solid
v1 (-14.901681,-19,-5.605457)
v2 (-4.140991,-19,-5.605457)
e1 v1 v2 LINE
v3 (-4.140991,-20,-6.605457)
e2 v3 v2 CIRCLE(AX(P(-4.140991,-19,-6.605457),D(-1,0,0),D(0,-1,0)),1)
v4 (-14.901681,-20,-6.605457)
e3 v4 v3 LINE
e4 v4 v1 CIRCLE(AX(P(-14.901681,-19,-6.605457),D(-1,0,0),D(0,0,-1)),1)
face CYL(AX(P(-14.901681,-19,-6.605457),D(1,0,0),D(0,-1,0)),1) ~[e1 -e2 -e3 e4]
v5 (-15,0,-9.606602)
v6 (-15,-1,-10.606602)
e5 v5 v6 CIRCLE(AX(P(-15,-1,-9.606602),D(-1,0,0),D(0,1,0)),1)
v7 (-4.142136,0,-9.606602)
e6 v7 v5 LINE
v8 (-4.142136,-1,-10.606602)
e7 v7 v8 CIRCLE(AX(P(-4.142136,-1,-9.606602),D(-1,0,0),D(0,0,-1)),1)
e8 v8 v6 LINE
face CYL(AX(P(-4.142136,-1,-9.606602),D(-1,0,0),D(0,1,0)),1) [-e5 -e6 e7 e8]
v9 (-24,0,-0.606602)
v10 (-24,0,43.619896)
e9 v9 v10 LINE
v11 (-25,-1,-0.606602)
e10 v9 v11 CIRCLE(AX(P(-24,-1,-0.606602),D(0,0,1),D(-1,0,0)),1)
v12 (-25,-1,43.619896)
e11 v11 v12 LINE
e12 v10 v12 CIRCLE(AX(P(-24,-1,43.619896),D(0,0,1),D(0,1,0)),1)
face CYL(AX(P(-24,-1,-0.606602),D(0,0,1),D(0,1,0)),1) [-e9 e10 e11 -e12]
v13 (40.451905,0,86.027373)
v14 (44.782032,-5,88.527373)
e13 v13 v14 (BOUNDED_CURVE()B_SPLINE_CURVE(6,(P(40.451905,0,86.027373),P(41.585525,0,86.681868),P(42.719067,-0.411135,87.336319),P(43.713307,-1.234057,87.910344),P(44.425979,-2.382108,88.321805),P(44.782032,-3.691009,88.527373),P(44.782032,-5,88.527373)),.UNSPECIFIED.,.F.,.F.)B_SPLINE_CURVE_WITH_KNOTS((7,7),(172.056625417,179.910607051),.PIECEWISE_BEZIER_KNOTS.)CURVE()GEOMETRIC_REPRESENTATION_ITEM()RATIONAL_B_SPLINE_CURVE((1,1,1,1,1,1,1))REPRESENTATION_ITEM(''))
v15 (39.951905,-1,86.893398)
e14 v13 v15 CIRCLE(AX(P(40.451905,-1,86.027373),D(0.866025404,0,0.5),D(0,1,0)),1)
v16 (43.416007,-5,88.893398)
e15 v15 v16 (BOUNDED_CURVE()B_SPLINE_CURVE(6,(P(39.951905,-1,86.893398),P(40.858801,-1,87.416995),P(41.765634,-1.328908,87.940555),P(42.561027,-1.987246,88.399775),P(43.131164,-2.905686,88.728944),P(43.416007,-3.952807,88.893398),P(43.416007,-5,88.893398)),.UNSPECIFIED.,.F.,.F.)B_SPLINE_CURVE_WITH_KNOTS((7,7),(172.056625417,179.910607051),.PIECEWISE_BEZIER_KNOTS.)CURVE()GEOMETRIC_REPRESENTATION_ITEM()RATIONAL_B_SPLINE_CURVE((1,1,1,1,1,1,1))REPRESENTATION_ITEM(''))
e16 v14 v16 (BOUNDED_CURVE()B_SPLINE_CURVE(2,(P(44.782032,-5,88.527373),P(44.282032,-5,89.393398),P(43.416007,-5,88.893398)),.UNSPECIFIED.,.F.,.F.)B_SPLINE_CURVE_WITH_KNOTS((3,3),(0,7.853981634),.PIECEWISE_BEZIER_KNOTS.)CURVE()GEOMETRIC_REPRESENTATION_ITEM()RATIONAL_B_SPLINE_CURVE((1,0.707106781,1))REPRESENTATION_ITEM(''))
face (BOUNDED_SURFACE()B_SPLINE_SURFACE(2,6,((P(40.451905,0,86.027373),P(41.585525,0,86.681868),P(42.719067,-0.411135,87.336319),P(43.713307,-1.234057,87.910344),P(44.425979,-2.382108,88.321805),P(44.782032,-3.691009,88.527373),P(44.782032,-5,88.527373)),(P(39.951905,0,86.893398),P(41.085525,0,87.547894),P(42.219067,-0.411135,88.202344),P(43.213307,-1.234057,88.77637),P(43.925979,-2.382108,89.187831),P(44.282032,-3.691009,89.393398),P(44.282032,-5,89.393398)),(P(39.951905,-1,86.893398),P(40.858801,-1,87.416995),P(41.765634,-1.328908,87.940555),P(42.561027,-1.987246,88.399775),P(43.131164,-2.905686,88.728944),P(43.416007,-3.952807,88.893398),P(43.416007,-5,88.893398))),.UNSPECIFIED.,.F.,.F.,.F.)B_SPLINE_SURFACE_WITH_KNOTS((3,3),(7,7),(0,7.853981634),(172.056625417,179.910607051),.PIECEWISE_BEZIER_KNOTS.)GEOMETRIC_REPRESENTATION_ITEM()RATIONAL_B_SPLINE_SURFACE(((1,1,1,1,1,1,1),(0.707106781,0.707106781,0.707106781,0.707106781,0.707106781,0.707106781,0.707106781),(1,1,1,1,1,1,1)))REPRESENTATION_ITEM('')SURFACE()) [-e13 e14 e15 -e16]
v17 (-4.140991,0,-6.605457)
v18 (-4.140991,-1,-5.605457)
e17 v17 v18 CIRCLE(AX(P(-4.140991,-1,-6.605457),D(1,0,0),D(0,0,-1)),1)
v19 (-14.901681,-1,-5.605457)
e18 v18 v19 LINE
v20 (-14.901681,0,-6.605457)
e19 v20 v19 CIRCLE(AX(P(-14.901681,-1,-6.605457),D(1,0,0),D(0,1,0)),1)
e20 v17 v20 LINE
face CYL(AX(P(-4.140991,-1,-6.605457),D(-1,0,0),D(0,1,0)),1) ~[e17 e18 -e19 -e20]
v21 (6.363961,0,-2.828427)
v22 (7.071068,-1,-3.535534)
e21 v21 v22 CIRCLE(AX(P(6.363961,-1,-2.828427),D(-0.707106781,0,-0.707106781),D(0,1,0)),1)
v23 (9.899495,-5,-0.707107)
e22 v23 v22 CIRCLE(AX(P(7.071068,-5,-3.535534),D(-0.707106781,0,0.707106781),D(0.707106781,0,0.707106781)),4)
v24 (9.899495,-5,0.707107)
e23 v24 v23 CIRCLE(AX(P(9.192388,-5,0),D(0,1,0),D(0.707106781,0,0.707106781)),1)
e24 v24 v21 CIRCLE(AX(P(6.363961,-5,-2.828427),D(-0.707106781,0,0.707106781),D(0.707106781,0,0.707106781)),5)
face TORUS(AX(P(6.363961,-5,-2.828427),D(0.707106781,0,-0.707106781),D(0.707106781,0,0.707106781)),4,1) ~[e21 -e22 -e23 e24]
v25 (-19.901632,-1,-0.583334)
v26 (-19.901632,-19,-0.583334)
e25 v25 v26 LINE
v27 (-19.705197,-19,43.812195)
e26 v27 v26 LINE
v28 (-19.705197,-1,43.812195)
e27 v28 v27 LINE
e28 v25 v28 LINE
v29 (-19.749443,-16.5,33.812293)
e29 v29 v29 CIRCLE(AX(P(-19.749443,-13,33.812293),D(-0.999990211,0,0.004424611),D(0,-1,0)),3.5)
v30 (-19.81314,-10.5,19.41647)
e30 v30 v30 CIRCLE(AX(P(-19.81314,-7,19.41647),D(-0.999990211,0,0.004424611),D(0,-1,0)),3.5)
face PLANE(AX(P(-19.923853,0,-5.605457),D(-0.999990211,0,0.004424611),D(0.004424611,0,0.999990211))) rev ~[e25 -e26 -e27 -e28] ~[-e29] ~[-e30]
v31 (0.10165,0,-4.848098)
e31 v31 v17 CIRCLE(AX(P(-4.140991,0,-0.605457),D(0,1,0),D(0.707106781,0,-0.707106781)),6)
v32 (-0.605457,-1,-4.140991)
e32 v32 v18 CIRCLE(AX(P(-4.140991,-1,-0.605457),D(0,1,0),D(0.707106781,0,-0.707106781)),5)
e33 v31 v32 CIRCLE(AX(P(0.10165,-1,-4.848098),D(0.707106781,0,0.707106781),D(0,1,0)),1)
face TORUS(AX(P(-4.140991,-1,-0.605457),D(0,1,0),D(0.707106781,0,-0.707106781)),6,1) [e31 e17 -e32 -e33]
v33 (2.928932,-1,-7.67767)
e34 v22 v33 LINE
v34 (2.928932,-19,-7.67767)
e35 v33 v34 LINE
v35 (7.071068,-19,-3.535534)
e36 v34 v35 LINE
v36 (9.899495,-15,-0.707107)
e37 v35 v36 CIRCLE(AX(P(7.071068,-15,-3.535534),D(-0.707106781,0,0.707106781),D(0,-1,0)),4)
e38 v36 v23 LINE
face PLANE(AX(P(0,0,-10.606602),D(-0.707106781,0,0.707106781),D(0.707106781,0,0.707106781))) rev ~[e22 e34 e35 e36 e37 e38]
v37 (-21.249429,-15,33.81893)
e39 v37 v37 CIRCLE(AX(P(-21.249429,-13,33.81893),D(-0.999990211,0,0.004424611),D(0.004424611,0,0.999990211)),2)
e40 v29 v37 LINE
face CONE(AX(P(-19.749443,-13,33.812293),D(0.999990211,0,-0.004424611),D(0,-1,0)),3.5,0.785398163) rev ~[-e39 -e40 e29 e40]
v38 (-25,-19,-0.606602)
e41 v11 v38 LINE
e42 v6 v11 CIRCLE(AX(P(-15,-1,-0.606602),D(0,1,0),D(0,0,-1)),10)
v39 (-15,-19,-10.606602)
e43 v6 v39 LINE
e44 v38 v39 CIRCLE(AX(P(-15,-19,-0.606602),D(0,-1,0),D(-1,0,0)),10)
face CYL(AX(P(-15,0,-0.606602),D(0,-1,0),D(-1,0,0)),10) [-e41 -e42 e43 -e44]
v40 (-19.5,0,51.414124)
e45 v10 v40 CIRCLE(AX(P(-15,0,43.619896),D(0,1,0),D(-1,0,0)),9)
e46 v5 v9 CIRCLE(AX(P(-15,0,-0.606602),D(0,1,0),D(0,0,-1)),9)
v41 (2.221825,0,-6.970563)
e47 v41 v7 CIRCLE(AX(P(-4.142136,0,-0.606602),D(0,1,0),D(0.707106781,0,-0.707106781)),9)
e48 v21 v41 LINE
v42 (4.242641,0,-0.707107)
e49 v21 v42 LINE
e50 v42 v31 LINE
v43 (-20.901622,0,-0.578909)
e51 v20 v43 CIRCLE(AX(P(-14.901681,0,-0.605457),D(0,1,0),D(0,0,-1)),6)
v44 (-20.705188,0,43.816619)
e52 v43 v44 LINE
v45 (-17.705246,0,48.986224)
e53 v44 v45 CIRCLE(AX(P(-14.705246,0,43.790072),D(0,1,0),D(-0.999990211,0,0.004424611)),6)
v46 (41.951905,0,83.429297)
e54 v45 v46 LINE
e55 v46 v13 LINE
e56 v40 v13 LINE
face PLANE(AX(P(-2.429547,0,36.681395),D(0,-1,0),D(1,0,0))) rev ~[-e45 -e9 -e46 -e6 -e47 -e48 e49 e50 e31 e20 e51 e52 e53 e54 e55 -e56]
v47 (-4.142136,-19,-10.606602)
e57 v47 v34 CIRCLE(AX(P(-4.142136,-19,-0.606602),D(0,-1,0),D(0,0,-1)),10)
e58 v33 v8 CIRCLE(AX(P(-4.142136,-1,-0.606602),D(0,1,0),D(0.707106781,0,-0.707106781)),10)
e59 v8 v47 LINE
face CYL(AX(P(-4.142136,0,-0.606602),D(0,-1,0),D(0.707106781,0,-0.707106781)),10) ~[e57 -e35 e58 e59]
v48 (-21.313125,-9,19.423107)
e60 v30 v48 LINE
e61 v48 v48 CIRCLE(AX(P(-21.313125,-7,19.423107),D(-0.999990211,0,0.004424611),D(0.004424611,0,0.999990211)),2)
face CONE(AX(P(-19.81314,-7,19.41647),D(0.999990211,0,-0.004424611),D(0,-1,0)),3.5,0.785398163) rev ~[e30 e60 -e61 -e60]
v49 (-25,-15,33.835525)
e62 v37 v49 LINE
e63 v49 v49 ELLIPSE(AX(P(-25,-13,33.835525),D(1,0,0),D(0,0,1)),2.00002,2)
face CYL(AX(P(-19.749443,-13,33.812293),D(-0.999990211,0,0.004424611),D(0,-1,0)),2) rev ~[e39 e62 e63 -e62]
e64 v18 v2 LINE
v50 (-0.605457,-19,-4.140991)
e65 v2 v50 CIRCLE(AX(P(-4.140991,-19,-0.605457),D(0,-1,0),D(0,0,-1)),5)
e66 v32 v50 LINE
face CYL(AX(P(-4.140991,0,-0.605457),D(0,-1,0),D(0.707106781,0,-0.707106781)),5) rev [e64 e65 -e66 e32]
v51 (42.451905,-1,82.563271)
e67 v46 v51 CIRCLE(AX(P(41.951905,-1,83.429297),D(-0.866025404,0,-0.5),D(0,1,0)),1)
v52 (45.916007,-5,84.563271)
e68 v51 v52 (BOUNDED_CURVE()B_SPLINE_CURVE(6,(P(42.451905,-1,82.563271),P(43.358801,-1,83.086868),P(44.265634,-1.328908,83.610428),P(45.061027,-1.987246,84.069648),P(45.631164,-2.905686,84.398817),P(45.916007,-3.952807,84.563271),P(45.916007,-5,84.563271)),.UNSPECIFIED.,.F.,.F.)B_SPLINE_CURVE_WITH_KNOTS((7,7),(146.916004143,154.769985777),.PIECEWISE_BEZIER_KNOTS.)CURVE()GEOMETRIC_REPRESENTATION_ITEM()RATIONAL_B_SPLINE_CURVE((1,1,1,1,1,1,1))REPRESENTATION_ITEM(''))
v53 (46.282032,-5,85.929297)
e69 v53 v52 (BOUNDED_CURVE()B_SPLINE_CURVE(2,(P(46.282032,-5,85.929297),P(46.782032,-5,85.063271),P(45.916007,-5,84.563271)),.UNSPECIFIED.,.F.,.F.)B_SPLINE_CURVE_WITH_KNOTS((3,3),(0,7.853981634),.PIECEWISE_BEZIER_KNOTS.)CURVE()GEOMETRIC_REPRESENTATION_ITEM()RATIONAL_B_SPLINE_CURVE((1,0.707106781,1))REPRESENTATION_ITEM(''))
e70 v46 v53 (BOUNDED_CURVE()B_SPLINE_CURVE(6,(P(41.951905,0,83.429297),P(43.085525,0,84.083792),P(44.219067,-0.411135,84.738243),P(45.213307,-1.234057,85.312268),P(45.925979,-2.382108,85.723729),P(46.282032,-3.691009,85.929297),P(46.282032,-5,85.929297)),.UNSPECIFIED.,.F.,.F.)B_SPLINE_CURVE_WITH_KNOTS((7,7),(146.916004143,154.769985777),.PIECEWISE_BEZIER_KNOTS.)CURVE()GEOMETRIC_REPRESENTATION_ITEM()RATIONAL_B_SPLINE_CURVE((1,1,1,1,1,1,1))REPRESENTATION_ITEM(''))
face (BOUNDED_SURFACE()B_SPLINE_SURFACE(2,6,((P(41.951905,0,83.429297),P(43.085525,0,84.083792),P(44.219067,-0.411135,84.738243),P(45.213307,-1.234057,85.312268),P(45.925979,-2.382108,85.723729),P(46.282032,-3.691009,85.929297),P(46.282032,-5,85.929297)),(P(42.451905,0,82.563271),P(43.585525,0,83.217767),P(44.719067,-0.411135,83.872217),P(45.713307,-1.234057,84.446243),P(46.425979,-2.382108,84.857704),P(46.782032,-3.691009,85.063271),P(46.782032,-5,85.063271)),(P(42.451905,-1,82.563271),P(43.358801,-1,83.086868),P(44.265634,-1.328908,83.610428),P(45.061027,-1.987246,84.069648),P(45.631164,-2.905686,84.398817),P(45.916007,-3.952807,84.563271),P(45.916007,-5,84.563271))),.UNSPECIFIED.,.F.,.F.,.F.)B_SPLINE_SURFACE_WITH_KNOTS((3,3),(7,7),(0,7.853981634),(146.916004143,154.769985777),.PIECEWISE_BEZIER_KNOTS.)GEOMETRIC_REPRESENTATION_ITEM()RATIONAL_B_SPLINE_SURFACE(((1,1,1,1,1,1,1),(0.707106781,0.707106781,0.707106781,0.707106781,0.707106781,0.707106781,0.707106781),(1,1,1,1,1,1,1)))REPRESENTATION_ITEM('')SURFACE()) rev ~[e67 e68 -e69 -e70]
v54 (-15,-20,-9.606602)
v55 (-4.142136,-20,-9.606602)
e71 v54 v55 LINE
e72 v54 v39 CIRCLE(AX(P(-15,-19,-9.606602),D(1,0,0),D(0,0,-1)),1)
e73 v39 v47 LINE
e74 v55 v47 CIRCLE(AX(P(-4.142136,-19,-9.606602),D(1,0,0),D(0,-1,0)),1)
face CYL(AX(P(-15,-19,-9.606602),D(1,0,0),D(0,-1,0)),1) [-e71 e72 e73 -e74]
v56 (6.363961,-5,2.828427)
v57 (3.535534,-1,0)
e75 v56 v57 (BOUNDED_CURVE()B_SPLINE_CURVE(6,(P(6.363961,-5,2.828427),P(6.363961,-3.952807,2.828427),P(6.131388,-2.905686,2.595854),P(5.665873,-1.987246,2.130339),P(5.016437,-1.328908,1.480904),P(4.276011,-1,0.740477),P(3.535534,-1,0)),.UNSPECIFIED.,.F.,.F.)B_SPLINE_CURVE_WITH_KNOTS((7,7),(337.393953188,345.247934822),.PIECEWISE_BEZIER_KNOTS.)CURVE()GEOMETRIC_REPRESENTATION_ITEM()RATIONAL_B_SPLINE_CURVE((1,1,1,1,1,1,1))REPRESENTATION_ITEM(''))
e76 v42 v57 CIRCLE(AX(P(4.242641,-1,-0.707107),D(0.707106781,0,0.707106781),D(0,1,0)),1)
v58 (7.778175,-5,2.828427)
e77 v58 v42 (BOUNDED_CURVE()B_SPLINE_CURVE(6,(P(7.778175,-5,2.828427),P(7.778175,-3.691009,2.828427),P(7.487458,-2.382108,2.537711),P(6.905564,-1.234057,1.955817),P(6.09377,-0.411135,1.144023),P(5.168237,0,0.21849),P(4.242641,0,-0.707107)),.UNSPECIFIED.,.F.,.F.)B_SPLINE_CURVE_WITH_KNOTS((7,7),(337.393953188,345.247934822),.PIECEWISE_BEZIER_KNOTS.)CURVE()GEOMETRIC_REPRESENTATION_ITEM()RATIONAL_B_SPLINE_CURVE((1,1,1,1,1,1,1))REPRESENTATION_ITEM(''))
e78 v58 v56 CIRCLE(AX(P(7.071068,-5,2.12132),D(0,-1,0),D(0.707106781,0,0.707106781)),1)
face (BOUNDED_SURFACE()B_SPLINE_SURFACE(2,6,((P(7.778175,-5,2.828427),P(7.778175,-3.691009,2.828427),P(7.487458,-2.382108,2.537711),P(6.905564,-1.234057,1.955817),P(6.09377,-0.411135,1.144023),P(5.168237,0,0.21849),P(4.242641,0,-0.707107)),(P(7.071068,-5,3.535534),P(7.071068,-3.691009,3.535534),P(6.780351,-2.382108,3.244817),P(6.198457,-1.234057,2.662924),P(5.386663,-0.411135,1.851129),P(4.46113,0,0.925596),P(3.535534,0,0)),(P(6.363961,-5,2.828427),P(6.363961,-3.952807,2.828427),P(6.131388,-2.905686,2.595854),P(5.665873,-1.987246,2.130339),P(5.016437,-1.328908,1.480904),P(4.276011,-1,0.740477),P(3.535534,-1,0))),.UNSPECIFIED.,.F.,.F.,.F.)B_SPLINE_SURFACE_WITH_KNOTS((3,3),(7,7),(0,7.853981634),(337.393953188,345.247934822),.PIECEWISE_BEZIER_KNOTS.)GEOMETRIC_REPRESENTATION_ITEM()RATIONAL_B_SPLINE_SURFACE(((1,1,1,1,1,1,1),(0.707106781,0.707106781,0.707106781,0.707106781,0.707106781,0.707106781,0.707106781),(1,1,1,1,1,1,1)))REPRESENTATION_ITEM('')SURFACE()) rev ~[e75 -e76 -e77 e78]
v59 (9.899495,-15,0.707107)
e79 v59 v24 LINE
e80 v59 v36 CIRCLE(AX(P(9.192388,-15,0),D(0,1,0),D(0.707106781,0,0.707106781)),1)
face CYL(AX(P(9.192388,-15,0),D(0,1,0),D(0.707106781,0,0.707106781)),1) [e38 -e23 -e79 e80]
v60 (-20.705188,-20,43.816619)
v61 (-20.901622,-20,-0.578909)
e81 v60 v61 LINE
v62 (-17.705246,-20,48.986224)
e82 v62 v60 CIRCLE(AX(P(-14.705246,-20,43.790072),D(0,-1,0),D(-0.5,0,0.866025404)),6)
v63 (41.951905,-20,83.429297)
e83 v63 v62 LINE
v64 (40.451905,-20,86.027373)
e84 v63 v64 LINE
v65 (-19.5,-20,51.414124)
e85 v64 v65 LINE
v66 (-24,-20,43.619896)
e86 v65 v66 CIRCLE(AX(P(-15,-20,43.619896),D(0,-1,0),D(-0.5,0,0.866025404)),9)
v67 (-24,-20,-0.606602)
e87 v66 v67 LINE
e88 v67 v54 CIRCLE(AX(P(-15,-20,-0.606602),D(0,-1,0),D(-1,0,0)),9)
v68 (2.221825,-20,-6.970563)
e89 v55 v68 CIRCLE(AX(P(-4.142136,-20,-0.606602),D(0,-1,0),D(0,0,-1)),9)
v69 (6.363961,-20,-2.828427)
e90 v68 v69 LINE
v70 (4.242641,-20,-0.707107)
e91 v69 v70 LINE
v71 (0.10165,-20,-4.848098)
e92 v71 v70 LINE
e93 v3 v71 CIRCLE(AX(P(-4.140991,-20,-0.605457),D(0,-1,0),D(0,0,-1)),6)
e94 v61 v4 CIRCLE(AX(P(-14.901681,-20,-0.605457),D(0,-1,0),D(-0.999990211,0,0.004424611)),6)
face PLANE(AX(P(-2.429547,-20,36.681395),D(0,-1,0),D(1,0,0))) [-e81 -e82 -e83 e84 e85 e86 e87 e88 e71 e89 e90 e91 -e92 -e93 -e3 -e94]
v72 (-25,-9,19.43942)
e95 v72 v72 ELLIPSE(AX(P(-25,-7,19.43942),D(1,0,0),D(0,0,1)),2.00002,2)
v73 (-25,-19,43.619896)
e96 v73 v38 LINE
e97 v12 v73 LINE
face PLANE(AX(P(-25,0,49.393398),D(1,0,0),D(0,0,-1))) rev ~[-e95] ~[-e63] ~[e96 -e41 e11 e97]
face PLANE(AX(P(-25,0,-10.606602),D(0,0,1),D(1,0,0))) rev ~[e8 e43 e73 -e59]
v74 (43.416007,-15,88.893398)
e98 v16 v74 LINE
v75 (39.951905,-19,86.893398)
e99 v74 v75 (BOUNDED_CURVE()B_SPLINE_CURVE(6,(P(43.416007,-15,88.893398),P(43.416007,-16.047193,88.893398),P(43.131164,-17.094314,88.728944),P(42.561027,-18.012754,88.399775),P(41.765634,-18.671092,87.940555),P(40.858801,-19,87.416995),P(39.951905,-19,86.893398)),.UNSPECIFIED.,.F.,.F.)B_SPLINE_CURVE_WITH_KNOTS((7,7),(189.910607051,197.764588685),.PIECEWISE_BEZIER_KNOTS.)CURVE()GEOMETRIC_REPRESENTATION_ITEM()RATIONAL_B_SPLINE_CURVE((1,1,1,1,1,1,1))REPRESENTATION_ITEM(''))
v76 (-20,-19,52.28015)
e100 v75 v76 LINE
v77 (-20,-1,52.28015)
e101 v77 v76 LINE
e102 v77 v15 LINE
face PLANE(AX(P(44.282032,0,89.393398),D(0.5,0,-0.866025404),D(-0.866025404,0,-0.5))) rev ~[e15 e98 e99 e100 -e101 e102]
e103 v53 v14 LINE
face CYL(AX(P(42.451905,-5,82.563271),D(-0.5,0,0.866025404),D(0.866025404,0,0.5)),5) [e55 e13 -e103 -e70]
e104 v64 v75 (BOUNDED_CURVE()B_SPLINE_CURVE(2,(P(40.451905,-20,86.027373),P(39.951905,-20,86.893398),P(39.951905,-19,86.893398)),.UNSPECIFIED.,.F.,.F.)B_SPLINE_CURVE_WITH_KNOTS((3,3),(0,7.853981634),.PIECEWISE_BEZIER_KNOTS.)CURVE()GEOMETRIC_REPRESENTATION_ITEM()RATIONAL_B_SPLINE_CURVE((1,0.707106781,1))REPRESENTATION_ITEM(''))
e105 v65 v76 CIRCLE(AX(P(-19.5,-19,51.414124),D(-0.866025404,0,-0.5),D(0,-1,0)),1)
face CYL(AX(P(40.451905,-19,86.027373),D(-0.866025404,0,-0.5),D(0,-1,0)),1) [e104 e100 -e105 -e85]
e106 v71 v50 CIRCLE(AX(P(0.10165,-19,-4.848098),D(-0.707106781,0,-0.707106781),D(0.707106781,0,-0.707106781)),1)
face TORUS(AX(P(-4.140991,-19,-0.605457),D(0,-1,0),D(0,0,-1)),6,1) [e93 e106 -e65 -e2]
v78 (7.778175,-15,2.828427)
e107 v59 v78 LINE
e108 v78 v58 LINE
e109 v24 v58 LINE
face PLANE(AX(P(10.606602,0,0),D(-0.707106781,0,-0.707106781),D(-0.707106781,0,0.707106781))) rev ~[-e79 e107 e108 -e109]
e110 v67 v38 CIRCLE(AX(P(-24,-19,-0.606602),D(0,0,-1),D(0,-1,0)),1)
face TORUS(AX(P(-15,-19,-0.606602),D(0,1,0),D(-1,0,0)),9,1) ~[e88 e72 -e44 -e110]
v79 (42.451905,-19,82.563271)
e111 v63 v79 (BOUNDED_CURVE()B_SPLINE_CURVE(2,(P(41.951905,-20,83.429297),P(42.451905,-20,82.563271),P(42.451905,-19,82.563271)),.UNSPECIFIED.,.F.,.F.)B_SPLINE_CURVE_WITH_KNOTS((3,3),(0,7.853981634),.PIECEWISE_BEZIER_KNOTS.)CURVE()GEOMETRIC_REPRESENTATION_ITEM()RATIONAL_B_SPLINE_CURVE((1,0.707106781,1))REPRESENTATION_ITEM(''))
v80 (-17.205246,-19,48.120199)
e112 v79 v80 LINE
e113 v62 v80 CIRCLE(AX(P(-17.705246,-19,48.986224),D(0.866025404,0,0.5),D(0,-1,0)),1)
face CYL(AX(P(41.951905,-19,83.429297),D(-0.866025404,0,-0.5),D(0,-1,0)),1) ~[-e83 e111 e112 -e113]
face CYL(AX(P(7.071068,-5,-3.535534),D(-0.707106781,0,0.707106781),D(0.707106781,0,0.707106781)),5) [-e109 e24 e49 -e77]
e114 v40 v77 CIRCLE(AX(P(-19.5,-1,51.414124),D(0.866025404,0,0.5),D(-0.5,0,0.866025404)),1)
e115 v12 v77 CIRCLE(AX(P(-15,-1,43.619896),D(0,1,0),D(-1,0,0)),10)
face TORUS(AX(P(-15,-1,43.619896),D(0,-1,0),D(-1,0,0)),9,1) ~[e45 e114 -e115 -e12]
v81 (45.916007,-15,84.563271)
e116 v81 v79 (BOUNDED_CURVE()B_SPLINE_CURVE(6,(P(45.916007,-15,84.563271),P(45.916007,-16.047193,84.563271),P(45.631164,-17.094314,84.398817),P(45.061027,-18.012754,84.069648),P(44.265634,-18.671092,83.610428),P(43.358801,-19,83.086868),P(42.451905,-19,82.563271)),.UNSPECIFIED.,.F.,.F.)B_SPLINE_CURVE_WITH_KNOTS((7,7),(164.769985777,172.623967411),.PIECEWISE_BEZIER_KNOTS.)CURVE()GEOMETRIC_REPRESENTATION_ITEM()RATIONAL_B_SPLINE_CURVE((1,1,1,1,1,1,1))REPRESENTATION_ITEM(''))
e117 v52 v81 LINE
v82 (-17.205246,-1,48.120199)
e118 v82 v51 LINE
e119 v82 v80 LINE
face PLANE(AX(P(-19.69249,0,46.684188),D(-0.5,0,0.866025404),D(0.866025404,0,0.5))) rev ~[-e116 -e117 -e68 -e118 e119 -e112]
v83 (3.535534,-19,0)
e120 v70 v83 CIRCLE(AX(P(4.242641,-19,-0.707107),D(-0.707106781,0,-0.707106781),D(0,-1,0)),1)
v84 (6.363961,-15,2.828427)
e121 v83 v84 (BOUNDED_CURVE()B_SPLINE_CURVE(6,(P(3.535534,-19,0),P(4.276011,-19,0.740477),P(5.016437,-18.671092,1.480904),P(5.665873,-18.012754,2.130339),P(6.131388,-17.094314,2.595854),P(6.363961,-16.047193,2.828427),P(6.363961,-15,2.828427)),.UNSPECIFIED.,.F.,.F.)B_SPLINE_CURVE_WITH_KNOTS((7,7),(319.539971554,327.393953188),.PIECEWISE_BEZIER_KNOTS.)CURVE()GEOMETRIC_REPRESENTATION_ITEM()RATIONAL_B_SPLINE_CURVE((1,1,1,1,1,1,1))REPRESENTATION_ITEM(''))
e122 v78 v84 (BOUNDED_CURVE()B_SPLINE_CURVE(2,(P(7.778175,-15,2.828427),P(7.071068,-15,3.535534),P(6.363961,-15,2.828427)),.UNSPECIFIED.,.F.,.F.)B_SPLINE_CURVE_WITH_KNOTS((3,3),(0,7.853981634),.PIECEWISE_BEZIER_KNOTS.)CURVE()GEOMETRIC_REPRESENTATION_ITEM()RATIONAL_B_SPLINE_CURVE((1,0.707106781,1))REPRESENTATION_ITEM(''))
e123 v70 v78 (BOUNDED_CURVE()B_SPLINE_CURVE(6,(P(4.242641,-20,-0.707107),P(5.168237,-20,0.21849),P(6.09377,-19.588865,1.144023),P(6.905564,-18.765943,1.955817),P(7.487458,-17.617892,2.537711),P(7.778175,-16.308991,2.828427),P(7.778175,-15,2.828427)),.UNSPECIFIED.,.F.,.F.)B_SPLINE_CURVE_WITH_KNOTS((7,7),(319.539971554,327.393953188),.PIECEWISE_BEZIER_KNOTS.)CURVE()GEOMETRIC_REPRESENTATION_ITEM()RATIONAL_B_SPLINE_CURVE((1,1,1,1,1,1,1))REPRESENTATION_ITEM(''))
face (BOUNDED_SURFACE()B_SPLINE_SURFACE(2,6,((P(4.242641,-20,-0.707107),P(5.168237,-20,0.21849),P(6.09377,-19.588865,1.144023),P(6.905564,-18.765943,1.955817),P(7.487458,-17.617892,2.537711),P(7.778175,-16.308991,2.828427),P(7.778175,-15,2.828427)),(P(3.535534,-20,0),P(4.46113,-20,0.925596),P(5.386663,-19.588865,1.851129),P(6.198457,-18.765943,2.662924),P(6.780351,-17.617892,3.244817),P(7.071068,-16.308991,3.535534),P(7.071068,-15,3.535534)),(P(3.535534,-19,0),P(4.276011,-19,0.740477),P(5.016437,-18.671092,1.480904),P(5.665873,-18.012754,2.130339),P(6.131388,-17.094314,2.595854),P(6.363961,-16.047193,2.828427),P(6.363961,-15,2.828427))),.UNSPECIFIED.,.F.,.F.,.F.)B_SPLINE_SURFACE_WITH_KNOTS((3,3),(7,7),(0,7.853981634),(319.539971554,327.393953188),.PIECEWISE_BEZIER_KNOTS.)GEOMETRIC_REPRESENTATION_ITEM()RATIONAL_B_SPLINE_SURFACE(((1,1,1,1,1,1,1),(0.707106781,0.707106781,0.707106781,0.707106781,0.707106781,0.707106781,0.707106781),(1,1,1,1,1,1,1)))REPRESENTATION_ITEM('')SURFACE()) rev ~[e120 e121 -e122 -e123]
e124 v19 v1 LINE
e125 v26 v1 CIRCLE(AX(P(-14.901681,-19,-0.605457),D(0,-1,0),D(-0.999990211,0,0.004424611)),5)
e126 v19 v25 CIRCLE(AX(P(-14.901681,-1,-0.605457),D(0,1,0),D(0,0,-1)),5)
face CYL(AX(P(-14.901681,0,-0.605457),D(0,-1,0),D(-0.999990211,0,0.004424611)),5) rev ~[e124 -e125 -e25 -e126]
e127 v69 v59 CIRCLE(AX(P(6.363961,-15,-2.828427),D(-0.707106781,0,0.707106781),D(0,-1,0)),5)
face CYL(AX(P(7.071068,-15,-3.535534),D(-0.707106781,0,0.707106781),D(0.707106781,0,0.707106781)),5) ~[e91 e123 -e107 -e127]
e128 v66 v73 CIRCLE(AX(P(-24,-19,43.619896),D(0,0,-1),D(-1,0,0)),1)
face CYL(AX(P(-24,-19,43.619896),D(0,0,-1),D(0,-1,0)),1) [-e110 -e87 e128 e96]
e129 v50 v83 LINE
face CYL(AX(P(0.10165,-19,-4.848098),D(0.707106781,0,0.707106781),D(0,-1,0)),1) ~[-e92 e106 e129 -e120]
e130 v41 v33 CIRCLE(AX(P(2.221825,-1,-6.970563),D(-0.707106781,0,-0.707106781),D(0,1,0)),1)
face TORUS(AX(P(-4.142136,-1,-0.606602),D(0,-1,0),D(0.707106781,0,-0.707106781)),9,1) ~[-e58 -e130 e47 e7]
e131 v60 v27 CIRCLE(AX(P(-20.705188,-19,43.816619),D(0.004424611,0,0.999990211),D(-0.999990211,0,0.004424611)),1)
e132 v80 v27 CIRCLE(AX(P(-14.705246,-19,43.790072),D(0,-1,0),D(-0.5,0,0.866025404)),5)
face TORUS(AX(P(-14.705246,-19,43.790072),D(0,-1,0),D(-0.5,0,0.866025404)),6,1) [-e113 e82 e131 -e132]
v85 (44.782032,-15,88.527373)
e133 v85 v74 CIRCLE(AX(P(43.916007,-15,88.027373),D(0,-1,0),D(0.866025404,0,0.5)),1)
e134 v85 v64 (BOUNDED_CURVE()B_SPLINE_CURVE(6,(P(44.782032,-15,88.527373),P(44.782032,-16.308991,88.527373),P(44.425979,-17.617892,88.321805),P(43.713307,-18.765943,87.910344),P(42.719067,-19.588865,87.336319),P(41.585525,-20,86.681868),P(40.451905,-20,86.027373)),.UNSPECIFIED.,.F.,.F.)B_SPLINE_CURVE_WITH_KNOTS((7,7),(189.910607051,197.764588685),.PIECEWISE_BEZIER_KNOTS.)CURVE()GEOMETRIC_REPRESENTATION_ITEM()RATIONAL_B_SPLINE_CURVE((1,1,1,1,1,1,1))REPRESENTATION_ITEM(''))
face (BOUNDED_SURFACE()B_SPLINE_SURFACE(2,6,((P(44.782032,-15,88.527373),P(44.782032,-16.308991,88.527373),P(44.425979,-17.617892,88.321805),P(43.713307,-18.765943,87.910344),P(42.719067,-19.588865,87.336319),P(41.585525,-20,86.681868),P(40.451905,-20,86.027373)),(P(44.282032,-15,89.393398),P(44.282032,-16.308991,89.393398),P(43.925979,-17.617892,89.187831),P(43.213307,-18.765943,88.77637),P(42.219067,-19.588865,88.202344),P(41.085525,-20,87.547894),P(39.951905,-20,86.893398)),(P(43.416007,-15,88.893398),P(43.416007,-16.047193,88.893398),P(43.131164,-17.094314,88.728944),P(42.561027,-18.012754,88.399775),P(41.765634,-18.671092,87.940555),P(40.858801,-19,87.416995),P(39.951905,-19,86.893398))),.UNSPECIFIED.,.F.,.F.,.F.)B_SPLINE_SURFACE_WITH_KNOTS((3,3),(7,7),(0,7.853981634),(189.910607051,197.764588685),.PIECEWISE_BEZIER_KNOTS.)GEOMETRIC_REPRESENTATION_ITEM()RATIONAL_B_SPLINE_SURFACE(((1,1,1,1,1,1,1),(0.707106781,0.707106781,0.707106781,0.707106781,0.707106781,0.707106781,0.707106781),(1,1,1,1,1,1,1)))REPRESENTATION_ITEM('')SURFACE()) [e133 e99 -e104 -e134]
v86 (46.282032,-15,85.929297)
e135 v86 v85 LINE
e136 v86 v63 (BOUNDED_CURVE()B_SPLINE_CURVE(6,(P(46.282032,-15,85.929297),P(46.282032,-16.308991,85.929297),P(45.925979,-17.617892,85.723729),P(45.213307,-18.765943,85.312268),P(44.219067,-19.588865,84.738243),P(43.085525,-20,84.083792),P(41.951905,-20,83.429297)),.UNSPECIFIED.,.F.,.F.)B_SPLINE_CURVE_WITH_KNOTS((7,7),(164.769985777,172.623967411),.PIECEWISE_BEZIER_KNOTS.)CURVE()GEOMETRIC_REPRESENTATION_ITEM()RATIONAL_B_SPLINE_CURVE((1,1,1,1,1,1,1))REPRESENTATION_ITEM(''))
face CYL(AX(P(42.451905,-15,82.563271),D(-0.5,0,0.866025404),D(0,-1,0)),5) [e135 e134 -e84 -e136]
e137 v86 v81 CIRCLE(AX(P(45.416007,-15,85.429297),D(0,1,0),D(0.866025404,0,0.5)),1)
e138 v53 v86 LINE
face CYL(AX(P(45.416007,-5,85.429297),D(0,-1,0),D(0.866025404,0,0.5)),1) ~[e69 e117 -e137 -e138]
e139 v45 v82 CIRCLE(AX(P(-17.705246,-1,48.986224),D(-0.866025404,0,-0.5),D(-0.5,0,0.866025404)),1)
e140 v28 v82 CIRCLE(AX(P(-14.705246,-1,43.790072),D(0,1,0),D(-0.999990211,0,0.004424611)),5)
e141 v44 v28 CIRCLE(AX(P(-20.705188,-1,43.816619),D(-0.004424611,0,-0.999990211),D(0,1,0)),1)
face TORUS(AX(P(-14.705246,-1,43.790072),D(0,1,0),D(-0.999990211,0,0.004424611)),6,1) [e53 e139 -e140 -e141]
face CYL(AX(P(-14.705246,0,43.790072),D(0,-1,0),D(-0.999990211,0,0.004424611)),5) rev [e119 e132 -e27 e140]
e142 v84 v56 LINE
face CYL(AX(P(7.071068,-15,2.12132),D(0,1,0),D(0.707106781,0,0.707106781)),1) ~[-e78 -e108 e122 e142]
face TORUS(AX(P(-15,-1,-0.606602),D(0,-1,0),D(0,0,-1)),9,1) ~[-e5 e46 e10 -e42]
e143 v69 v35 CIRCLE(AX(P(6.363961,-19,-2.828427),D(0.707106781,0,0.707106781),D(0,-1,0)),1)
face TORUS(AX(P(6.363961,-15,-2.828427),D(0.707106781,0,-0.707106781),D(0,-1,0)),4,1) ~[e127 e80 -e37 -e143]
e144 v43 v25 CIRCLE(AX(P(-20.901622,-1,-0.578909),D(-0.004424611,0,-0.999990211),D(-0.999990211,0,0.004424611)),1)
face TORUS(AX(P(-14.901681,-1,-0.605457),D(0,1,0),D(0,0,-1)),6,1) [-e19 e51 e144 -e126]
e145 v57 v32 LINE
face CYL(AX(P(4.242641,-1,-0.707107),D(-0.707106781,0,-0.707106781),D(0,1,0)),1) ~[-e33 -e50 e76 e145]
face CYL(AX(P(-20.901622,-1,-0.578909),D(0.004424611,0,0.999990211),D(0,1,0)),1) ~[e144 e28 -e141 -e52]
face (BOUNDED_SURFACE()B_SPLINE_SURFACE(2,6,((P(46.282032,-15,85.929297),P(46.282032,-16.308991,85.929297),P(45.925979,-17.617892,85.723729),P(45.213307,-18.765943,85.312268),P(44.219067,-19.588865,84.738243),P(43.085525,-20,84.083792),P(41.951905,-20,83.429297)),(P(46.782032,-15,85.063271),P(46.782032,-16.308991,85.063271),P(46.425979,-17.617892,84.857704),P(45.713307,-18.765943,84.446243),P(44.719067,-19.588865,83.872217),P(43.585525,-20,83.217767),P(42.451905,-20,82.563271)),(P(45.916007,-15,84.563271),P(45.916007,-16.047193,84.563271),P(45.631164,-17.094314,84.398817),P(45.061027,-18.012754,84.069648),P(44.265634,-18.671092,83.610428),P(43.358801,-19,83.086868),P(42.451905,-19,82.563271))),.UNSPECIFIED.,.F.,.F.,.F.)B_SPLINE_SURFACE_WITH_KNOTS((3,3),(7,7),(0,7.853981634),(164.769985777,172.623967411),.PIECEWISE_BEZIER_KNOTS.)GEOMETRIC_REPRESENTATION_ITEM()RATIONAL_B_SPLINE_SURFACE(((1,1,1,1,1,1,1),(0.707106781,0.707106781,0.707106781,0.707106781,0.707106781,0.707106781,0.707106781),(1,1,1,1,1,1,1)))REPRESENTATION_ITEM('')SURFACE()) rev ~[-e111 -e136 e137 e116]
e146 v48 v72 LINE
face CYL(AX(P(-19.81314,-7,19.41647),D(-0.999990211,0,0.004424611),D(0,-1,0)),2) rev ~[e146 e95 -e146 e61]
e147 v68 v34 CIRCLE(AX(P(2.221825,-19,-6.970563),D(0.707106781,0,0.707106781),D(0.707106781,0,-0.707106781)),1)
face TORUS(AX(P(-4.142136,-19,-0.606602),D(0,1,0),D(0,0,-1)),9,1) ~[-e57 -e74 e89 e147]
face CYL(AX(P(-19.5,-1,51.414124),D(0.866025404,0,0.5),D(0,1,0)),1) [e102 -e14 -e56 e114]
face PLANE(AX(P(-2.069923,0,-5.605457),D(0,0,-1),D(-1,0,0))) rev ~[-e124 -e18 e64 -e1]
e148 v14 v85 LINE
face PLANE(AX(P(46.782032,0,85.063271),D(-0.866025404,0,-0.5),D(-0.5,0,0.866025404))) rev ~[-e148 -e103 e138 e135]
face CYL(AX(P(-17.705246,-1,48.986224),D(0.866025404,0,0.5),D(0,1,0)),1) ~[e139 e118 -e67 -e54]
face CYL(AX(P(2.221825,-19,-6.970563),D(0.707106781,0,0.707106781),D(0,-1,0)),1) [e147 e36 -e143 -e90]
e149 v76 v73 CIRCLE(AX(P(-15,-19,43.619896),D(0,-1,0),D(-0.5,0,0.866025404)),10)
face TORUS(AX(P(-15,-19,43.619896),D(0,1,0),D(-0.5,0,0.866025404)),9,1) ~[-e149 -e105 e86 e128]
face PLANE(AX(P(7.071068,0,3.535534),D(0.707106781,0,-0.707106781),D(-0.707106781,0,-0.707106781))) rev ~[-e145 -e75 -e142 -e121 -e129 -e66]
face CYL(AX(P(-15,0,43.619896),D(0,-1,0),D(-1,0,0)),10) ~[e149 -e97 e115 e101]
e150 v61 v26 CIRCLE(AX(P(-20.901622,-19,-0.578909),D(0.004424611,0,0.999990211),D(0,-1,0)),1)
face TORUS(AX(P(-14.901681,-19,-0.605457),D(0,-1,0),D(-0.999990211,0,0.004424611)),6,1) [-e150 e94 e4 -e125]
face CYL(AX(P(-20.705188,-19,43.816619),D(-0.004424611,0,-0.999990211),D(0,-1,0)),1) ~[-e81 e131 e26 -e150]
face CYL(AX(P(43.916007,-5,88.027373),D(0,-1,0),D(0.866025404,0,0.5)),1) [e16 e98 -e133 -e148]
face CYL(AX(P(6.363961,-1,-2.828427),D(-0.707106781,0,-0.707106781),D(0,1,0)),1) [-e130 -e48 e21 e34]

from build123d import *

# Parameters (mm, degrees)
F1_DEPTH        = 20
F2_R            = 10
F3_R            = 10
F4_R            = 5
F5_R            = 5
F6_R            = 10
F7_R            = 5
F8_R            = 5
F9_R            = 5
F10_R           = 5
F11_R           = 5
F12_R           = 1
F14_D           = 4
F14_CSINK_D     = 7
F14_CSINK_ANGLE = 90


with BuildPart() as f1:
    # F0 (on Front) → F1 (new body)
    with BuildSketch(Plane.XZ):
        Polygon((0, -10.6066017178), (10.6066017178, 0), (7.0710678119, 3.5355339059), (-2.069922974, -5.6054568799), (-19.9238533878, -5.6054568799), (-19.6924897674, 46.6841880518), (46.7820323028, 85.0632712633), (44.2820323028, 89.3933982822), (-25, 49.3933982822), (-25, -10.6066017178), align=None)
    extrude(amount=F1_DEPTH)

    # F2
    f2_edges = [f1.edges().sort_by_distance(p)[0] for p in [
        (-25, -10, -10.606602),
    ]]
    fillet(f2_edges, radius=F2_R)

    # F3
    f3_edges = [f1.edges().sort_by_distance(p)[0] for p in [
        (-25, -10, 49.393398),
    ]]
    fillet(f3_edges, radius=F3_R)

    # F4
    f4_edges = [f1.edges().sort_by_distance(p)[0] for p in [
        (-19.923853, -10, -5.605457),
    ]]
    fillet(f4_edges, radius=F4_R)

    # F5
    f5_edges = [f1.edges().sort_by_distance(p)[0] for p in [
        (-19.69249, -10, 46.684188),
    ]]
    fillet(f5_edges, radius=F5_R)

    # F6
    f6_edges = [f1.edges().sort_by_distance(p)[0] for p in [
        (0, -10, -10.606602),
    ]]
    fillet(f6_edges, radius=F6_R)

    # F7
    f7_edges = [f1.edges().sort_by_distance(p)[0] for p in [
        (-2.069923, -10, -5.605457),
    ]]
    fillet(f7_edges, radius=F7_R)

    # F8
    f8_edges = [f1.edges().sort_by_distance(p)[0] for p in [
        (8.838835, -20, 1.767767),
    ]]
    fillet(f8_edges, radius=F8_R)

    # F9
    f9_edges = [f1.edges().sort_by_distance(p)[0] for p in [
        (8.838835, 0, 1.767767),
    ]]
    fillet(f9_edges, radius=F9_R)

    # F10
    f10_edges = [f1.edges().sort_by_distance(p)[0] for p in [
        (45.532032, -20, 87.228335),
    ]]
    fillet(f10_edges, radius=F10_R)

    # F11
    f11_edges = [f1.edges().sort_by_distance(p)[0] for p in [
        (45.532032, 0, 87.228335),
    ]]
    fillet(f11_edges, radius=F11_R)

    # F12
    f12_edges = [f1.edges().sort_by_distance(p)[0] for p in [
        (1.465039, 0, -2.070495),
        (9.571068, -1.464466, -1.035534),
        (10.606602, -10, 0),
        (9.571068, -18.535534, -1.035534),
        (5, -20, -5.606602),
        (-0.315301, -20, -9.845397),
        (-9.571068, -20, -10.606602),
        (-22.071068, -20, -7.67767),
        (-25, -20, 21.506647),
        (-23.660254, -20, 48.619896),
        (9.975953, -20, 69.586774),
        (-18.445028, -20, -4.13316),
        (-9.521336, -20, -5.605457),
        (-2.227574, -20, -5.224855),
        (1.465039, -20, -2.070495),
        (6.035534, -18.535534, 2.5),
        (-19.803415, -20, 21.61443),
        (-19.029832, -20, 46.299645),
        (12.623329, -20, 65.341735),
        (45.513767, -18.535534, 84.331038),
        (46.782032, -10, 85.063271),
        (44.282032, -10, 89.393398),
        (43.013767, -18.535534, 88.661165),
        (7.071068, -10, 3.535534),
        (6.035534, -1.464466, 2.5),
    ]]
    fillet(f12_edges, radius=F12_R)

    # F14 (through all)
    with Locations(Plane(origin=(-19.8986616096, 0, 0.0880447056), x_dir=(0, 1, 0), z_dir=(0.9999902114, 0, -0.0044246113))):
        with Locations((-13, 33.72457808), (-7, 19.3286148992)):
            CounterSinkHole(F14_D / 2, F14_CSINK_D / 2, counter_sink_angle=F14_CSINK_ANGLE)


solid = f1.part
